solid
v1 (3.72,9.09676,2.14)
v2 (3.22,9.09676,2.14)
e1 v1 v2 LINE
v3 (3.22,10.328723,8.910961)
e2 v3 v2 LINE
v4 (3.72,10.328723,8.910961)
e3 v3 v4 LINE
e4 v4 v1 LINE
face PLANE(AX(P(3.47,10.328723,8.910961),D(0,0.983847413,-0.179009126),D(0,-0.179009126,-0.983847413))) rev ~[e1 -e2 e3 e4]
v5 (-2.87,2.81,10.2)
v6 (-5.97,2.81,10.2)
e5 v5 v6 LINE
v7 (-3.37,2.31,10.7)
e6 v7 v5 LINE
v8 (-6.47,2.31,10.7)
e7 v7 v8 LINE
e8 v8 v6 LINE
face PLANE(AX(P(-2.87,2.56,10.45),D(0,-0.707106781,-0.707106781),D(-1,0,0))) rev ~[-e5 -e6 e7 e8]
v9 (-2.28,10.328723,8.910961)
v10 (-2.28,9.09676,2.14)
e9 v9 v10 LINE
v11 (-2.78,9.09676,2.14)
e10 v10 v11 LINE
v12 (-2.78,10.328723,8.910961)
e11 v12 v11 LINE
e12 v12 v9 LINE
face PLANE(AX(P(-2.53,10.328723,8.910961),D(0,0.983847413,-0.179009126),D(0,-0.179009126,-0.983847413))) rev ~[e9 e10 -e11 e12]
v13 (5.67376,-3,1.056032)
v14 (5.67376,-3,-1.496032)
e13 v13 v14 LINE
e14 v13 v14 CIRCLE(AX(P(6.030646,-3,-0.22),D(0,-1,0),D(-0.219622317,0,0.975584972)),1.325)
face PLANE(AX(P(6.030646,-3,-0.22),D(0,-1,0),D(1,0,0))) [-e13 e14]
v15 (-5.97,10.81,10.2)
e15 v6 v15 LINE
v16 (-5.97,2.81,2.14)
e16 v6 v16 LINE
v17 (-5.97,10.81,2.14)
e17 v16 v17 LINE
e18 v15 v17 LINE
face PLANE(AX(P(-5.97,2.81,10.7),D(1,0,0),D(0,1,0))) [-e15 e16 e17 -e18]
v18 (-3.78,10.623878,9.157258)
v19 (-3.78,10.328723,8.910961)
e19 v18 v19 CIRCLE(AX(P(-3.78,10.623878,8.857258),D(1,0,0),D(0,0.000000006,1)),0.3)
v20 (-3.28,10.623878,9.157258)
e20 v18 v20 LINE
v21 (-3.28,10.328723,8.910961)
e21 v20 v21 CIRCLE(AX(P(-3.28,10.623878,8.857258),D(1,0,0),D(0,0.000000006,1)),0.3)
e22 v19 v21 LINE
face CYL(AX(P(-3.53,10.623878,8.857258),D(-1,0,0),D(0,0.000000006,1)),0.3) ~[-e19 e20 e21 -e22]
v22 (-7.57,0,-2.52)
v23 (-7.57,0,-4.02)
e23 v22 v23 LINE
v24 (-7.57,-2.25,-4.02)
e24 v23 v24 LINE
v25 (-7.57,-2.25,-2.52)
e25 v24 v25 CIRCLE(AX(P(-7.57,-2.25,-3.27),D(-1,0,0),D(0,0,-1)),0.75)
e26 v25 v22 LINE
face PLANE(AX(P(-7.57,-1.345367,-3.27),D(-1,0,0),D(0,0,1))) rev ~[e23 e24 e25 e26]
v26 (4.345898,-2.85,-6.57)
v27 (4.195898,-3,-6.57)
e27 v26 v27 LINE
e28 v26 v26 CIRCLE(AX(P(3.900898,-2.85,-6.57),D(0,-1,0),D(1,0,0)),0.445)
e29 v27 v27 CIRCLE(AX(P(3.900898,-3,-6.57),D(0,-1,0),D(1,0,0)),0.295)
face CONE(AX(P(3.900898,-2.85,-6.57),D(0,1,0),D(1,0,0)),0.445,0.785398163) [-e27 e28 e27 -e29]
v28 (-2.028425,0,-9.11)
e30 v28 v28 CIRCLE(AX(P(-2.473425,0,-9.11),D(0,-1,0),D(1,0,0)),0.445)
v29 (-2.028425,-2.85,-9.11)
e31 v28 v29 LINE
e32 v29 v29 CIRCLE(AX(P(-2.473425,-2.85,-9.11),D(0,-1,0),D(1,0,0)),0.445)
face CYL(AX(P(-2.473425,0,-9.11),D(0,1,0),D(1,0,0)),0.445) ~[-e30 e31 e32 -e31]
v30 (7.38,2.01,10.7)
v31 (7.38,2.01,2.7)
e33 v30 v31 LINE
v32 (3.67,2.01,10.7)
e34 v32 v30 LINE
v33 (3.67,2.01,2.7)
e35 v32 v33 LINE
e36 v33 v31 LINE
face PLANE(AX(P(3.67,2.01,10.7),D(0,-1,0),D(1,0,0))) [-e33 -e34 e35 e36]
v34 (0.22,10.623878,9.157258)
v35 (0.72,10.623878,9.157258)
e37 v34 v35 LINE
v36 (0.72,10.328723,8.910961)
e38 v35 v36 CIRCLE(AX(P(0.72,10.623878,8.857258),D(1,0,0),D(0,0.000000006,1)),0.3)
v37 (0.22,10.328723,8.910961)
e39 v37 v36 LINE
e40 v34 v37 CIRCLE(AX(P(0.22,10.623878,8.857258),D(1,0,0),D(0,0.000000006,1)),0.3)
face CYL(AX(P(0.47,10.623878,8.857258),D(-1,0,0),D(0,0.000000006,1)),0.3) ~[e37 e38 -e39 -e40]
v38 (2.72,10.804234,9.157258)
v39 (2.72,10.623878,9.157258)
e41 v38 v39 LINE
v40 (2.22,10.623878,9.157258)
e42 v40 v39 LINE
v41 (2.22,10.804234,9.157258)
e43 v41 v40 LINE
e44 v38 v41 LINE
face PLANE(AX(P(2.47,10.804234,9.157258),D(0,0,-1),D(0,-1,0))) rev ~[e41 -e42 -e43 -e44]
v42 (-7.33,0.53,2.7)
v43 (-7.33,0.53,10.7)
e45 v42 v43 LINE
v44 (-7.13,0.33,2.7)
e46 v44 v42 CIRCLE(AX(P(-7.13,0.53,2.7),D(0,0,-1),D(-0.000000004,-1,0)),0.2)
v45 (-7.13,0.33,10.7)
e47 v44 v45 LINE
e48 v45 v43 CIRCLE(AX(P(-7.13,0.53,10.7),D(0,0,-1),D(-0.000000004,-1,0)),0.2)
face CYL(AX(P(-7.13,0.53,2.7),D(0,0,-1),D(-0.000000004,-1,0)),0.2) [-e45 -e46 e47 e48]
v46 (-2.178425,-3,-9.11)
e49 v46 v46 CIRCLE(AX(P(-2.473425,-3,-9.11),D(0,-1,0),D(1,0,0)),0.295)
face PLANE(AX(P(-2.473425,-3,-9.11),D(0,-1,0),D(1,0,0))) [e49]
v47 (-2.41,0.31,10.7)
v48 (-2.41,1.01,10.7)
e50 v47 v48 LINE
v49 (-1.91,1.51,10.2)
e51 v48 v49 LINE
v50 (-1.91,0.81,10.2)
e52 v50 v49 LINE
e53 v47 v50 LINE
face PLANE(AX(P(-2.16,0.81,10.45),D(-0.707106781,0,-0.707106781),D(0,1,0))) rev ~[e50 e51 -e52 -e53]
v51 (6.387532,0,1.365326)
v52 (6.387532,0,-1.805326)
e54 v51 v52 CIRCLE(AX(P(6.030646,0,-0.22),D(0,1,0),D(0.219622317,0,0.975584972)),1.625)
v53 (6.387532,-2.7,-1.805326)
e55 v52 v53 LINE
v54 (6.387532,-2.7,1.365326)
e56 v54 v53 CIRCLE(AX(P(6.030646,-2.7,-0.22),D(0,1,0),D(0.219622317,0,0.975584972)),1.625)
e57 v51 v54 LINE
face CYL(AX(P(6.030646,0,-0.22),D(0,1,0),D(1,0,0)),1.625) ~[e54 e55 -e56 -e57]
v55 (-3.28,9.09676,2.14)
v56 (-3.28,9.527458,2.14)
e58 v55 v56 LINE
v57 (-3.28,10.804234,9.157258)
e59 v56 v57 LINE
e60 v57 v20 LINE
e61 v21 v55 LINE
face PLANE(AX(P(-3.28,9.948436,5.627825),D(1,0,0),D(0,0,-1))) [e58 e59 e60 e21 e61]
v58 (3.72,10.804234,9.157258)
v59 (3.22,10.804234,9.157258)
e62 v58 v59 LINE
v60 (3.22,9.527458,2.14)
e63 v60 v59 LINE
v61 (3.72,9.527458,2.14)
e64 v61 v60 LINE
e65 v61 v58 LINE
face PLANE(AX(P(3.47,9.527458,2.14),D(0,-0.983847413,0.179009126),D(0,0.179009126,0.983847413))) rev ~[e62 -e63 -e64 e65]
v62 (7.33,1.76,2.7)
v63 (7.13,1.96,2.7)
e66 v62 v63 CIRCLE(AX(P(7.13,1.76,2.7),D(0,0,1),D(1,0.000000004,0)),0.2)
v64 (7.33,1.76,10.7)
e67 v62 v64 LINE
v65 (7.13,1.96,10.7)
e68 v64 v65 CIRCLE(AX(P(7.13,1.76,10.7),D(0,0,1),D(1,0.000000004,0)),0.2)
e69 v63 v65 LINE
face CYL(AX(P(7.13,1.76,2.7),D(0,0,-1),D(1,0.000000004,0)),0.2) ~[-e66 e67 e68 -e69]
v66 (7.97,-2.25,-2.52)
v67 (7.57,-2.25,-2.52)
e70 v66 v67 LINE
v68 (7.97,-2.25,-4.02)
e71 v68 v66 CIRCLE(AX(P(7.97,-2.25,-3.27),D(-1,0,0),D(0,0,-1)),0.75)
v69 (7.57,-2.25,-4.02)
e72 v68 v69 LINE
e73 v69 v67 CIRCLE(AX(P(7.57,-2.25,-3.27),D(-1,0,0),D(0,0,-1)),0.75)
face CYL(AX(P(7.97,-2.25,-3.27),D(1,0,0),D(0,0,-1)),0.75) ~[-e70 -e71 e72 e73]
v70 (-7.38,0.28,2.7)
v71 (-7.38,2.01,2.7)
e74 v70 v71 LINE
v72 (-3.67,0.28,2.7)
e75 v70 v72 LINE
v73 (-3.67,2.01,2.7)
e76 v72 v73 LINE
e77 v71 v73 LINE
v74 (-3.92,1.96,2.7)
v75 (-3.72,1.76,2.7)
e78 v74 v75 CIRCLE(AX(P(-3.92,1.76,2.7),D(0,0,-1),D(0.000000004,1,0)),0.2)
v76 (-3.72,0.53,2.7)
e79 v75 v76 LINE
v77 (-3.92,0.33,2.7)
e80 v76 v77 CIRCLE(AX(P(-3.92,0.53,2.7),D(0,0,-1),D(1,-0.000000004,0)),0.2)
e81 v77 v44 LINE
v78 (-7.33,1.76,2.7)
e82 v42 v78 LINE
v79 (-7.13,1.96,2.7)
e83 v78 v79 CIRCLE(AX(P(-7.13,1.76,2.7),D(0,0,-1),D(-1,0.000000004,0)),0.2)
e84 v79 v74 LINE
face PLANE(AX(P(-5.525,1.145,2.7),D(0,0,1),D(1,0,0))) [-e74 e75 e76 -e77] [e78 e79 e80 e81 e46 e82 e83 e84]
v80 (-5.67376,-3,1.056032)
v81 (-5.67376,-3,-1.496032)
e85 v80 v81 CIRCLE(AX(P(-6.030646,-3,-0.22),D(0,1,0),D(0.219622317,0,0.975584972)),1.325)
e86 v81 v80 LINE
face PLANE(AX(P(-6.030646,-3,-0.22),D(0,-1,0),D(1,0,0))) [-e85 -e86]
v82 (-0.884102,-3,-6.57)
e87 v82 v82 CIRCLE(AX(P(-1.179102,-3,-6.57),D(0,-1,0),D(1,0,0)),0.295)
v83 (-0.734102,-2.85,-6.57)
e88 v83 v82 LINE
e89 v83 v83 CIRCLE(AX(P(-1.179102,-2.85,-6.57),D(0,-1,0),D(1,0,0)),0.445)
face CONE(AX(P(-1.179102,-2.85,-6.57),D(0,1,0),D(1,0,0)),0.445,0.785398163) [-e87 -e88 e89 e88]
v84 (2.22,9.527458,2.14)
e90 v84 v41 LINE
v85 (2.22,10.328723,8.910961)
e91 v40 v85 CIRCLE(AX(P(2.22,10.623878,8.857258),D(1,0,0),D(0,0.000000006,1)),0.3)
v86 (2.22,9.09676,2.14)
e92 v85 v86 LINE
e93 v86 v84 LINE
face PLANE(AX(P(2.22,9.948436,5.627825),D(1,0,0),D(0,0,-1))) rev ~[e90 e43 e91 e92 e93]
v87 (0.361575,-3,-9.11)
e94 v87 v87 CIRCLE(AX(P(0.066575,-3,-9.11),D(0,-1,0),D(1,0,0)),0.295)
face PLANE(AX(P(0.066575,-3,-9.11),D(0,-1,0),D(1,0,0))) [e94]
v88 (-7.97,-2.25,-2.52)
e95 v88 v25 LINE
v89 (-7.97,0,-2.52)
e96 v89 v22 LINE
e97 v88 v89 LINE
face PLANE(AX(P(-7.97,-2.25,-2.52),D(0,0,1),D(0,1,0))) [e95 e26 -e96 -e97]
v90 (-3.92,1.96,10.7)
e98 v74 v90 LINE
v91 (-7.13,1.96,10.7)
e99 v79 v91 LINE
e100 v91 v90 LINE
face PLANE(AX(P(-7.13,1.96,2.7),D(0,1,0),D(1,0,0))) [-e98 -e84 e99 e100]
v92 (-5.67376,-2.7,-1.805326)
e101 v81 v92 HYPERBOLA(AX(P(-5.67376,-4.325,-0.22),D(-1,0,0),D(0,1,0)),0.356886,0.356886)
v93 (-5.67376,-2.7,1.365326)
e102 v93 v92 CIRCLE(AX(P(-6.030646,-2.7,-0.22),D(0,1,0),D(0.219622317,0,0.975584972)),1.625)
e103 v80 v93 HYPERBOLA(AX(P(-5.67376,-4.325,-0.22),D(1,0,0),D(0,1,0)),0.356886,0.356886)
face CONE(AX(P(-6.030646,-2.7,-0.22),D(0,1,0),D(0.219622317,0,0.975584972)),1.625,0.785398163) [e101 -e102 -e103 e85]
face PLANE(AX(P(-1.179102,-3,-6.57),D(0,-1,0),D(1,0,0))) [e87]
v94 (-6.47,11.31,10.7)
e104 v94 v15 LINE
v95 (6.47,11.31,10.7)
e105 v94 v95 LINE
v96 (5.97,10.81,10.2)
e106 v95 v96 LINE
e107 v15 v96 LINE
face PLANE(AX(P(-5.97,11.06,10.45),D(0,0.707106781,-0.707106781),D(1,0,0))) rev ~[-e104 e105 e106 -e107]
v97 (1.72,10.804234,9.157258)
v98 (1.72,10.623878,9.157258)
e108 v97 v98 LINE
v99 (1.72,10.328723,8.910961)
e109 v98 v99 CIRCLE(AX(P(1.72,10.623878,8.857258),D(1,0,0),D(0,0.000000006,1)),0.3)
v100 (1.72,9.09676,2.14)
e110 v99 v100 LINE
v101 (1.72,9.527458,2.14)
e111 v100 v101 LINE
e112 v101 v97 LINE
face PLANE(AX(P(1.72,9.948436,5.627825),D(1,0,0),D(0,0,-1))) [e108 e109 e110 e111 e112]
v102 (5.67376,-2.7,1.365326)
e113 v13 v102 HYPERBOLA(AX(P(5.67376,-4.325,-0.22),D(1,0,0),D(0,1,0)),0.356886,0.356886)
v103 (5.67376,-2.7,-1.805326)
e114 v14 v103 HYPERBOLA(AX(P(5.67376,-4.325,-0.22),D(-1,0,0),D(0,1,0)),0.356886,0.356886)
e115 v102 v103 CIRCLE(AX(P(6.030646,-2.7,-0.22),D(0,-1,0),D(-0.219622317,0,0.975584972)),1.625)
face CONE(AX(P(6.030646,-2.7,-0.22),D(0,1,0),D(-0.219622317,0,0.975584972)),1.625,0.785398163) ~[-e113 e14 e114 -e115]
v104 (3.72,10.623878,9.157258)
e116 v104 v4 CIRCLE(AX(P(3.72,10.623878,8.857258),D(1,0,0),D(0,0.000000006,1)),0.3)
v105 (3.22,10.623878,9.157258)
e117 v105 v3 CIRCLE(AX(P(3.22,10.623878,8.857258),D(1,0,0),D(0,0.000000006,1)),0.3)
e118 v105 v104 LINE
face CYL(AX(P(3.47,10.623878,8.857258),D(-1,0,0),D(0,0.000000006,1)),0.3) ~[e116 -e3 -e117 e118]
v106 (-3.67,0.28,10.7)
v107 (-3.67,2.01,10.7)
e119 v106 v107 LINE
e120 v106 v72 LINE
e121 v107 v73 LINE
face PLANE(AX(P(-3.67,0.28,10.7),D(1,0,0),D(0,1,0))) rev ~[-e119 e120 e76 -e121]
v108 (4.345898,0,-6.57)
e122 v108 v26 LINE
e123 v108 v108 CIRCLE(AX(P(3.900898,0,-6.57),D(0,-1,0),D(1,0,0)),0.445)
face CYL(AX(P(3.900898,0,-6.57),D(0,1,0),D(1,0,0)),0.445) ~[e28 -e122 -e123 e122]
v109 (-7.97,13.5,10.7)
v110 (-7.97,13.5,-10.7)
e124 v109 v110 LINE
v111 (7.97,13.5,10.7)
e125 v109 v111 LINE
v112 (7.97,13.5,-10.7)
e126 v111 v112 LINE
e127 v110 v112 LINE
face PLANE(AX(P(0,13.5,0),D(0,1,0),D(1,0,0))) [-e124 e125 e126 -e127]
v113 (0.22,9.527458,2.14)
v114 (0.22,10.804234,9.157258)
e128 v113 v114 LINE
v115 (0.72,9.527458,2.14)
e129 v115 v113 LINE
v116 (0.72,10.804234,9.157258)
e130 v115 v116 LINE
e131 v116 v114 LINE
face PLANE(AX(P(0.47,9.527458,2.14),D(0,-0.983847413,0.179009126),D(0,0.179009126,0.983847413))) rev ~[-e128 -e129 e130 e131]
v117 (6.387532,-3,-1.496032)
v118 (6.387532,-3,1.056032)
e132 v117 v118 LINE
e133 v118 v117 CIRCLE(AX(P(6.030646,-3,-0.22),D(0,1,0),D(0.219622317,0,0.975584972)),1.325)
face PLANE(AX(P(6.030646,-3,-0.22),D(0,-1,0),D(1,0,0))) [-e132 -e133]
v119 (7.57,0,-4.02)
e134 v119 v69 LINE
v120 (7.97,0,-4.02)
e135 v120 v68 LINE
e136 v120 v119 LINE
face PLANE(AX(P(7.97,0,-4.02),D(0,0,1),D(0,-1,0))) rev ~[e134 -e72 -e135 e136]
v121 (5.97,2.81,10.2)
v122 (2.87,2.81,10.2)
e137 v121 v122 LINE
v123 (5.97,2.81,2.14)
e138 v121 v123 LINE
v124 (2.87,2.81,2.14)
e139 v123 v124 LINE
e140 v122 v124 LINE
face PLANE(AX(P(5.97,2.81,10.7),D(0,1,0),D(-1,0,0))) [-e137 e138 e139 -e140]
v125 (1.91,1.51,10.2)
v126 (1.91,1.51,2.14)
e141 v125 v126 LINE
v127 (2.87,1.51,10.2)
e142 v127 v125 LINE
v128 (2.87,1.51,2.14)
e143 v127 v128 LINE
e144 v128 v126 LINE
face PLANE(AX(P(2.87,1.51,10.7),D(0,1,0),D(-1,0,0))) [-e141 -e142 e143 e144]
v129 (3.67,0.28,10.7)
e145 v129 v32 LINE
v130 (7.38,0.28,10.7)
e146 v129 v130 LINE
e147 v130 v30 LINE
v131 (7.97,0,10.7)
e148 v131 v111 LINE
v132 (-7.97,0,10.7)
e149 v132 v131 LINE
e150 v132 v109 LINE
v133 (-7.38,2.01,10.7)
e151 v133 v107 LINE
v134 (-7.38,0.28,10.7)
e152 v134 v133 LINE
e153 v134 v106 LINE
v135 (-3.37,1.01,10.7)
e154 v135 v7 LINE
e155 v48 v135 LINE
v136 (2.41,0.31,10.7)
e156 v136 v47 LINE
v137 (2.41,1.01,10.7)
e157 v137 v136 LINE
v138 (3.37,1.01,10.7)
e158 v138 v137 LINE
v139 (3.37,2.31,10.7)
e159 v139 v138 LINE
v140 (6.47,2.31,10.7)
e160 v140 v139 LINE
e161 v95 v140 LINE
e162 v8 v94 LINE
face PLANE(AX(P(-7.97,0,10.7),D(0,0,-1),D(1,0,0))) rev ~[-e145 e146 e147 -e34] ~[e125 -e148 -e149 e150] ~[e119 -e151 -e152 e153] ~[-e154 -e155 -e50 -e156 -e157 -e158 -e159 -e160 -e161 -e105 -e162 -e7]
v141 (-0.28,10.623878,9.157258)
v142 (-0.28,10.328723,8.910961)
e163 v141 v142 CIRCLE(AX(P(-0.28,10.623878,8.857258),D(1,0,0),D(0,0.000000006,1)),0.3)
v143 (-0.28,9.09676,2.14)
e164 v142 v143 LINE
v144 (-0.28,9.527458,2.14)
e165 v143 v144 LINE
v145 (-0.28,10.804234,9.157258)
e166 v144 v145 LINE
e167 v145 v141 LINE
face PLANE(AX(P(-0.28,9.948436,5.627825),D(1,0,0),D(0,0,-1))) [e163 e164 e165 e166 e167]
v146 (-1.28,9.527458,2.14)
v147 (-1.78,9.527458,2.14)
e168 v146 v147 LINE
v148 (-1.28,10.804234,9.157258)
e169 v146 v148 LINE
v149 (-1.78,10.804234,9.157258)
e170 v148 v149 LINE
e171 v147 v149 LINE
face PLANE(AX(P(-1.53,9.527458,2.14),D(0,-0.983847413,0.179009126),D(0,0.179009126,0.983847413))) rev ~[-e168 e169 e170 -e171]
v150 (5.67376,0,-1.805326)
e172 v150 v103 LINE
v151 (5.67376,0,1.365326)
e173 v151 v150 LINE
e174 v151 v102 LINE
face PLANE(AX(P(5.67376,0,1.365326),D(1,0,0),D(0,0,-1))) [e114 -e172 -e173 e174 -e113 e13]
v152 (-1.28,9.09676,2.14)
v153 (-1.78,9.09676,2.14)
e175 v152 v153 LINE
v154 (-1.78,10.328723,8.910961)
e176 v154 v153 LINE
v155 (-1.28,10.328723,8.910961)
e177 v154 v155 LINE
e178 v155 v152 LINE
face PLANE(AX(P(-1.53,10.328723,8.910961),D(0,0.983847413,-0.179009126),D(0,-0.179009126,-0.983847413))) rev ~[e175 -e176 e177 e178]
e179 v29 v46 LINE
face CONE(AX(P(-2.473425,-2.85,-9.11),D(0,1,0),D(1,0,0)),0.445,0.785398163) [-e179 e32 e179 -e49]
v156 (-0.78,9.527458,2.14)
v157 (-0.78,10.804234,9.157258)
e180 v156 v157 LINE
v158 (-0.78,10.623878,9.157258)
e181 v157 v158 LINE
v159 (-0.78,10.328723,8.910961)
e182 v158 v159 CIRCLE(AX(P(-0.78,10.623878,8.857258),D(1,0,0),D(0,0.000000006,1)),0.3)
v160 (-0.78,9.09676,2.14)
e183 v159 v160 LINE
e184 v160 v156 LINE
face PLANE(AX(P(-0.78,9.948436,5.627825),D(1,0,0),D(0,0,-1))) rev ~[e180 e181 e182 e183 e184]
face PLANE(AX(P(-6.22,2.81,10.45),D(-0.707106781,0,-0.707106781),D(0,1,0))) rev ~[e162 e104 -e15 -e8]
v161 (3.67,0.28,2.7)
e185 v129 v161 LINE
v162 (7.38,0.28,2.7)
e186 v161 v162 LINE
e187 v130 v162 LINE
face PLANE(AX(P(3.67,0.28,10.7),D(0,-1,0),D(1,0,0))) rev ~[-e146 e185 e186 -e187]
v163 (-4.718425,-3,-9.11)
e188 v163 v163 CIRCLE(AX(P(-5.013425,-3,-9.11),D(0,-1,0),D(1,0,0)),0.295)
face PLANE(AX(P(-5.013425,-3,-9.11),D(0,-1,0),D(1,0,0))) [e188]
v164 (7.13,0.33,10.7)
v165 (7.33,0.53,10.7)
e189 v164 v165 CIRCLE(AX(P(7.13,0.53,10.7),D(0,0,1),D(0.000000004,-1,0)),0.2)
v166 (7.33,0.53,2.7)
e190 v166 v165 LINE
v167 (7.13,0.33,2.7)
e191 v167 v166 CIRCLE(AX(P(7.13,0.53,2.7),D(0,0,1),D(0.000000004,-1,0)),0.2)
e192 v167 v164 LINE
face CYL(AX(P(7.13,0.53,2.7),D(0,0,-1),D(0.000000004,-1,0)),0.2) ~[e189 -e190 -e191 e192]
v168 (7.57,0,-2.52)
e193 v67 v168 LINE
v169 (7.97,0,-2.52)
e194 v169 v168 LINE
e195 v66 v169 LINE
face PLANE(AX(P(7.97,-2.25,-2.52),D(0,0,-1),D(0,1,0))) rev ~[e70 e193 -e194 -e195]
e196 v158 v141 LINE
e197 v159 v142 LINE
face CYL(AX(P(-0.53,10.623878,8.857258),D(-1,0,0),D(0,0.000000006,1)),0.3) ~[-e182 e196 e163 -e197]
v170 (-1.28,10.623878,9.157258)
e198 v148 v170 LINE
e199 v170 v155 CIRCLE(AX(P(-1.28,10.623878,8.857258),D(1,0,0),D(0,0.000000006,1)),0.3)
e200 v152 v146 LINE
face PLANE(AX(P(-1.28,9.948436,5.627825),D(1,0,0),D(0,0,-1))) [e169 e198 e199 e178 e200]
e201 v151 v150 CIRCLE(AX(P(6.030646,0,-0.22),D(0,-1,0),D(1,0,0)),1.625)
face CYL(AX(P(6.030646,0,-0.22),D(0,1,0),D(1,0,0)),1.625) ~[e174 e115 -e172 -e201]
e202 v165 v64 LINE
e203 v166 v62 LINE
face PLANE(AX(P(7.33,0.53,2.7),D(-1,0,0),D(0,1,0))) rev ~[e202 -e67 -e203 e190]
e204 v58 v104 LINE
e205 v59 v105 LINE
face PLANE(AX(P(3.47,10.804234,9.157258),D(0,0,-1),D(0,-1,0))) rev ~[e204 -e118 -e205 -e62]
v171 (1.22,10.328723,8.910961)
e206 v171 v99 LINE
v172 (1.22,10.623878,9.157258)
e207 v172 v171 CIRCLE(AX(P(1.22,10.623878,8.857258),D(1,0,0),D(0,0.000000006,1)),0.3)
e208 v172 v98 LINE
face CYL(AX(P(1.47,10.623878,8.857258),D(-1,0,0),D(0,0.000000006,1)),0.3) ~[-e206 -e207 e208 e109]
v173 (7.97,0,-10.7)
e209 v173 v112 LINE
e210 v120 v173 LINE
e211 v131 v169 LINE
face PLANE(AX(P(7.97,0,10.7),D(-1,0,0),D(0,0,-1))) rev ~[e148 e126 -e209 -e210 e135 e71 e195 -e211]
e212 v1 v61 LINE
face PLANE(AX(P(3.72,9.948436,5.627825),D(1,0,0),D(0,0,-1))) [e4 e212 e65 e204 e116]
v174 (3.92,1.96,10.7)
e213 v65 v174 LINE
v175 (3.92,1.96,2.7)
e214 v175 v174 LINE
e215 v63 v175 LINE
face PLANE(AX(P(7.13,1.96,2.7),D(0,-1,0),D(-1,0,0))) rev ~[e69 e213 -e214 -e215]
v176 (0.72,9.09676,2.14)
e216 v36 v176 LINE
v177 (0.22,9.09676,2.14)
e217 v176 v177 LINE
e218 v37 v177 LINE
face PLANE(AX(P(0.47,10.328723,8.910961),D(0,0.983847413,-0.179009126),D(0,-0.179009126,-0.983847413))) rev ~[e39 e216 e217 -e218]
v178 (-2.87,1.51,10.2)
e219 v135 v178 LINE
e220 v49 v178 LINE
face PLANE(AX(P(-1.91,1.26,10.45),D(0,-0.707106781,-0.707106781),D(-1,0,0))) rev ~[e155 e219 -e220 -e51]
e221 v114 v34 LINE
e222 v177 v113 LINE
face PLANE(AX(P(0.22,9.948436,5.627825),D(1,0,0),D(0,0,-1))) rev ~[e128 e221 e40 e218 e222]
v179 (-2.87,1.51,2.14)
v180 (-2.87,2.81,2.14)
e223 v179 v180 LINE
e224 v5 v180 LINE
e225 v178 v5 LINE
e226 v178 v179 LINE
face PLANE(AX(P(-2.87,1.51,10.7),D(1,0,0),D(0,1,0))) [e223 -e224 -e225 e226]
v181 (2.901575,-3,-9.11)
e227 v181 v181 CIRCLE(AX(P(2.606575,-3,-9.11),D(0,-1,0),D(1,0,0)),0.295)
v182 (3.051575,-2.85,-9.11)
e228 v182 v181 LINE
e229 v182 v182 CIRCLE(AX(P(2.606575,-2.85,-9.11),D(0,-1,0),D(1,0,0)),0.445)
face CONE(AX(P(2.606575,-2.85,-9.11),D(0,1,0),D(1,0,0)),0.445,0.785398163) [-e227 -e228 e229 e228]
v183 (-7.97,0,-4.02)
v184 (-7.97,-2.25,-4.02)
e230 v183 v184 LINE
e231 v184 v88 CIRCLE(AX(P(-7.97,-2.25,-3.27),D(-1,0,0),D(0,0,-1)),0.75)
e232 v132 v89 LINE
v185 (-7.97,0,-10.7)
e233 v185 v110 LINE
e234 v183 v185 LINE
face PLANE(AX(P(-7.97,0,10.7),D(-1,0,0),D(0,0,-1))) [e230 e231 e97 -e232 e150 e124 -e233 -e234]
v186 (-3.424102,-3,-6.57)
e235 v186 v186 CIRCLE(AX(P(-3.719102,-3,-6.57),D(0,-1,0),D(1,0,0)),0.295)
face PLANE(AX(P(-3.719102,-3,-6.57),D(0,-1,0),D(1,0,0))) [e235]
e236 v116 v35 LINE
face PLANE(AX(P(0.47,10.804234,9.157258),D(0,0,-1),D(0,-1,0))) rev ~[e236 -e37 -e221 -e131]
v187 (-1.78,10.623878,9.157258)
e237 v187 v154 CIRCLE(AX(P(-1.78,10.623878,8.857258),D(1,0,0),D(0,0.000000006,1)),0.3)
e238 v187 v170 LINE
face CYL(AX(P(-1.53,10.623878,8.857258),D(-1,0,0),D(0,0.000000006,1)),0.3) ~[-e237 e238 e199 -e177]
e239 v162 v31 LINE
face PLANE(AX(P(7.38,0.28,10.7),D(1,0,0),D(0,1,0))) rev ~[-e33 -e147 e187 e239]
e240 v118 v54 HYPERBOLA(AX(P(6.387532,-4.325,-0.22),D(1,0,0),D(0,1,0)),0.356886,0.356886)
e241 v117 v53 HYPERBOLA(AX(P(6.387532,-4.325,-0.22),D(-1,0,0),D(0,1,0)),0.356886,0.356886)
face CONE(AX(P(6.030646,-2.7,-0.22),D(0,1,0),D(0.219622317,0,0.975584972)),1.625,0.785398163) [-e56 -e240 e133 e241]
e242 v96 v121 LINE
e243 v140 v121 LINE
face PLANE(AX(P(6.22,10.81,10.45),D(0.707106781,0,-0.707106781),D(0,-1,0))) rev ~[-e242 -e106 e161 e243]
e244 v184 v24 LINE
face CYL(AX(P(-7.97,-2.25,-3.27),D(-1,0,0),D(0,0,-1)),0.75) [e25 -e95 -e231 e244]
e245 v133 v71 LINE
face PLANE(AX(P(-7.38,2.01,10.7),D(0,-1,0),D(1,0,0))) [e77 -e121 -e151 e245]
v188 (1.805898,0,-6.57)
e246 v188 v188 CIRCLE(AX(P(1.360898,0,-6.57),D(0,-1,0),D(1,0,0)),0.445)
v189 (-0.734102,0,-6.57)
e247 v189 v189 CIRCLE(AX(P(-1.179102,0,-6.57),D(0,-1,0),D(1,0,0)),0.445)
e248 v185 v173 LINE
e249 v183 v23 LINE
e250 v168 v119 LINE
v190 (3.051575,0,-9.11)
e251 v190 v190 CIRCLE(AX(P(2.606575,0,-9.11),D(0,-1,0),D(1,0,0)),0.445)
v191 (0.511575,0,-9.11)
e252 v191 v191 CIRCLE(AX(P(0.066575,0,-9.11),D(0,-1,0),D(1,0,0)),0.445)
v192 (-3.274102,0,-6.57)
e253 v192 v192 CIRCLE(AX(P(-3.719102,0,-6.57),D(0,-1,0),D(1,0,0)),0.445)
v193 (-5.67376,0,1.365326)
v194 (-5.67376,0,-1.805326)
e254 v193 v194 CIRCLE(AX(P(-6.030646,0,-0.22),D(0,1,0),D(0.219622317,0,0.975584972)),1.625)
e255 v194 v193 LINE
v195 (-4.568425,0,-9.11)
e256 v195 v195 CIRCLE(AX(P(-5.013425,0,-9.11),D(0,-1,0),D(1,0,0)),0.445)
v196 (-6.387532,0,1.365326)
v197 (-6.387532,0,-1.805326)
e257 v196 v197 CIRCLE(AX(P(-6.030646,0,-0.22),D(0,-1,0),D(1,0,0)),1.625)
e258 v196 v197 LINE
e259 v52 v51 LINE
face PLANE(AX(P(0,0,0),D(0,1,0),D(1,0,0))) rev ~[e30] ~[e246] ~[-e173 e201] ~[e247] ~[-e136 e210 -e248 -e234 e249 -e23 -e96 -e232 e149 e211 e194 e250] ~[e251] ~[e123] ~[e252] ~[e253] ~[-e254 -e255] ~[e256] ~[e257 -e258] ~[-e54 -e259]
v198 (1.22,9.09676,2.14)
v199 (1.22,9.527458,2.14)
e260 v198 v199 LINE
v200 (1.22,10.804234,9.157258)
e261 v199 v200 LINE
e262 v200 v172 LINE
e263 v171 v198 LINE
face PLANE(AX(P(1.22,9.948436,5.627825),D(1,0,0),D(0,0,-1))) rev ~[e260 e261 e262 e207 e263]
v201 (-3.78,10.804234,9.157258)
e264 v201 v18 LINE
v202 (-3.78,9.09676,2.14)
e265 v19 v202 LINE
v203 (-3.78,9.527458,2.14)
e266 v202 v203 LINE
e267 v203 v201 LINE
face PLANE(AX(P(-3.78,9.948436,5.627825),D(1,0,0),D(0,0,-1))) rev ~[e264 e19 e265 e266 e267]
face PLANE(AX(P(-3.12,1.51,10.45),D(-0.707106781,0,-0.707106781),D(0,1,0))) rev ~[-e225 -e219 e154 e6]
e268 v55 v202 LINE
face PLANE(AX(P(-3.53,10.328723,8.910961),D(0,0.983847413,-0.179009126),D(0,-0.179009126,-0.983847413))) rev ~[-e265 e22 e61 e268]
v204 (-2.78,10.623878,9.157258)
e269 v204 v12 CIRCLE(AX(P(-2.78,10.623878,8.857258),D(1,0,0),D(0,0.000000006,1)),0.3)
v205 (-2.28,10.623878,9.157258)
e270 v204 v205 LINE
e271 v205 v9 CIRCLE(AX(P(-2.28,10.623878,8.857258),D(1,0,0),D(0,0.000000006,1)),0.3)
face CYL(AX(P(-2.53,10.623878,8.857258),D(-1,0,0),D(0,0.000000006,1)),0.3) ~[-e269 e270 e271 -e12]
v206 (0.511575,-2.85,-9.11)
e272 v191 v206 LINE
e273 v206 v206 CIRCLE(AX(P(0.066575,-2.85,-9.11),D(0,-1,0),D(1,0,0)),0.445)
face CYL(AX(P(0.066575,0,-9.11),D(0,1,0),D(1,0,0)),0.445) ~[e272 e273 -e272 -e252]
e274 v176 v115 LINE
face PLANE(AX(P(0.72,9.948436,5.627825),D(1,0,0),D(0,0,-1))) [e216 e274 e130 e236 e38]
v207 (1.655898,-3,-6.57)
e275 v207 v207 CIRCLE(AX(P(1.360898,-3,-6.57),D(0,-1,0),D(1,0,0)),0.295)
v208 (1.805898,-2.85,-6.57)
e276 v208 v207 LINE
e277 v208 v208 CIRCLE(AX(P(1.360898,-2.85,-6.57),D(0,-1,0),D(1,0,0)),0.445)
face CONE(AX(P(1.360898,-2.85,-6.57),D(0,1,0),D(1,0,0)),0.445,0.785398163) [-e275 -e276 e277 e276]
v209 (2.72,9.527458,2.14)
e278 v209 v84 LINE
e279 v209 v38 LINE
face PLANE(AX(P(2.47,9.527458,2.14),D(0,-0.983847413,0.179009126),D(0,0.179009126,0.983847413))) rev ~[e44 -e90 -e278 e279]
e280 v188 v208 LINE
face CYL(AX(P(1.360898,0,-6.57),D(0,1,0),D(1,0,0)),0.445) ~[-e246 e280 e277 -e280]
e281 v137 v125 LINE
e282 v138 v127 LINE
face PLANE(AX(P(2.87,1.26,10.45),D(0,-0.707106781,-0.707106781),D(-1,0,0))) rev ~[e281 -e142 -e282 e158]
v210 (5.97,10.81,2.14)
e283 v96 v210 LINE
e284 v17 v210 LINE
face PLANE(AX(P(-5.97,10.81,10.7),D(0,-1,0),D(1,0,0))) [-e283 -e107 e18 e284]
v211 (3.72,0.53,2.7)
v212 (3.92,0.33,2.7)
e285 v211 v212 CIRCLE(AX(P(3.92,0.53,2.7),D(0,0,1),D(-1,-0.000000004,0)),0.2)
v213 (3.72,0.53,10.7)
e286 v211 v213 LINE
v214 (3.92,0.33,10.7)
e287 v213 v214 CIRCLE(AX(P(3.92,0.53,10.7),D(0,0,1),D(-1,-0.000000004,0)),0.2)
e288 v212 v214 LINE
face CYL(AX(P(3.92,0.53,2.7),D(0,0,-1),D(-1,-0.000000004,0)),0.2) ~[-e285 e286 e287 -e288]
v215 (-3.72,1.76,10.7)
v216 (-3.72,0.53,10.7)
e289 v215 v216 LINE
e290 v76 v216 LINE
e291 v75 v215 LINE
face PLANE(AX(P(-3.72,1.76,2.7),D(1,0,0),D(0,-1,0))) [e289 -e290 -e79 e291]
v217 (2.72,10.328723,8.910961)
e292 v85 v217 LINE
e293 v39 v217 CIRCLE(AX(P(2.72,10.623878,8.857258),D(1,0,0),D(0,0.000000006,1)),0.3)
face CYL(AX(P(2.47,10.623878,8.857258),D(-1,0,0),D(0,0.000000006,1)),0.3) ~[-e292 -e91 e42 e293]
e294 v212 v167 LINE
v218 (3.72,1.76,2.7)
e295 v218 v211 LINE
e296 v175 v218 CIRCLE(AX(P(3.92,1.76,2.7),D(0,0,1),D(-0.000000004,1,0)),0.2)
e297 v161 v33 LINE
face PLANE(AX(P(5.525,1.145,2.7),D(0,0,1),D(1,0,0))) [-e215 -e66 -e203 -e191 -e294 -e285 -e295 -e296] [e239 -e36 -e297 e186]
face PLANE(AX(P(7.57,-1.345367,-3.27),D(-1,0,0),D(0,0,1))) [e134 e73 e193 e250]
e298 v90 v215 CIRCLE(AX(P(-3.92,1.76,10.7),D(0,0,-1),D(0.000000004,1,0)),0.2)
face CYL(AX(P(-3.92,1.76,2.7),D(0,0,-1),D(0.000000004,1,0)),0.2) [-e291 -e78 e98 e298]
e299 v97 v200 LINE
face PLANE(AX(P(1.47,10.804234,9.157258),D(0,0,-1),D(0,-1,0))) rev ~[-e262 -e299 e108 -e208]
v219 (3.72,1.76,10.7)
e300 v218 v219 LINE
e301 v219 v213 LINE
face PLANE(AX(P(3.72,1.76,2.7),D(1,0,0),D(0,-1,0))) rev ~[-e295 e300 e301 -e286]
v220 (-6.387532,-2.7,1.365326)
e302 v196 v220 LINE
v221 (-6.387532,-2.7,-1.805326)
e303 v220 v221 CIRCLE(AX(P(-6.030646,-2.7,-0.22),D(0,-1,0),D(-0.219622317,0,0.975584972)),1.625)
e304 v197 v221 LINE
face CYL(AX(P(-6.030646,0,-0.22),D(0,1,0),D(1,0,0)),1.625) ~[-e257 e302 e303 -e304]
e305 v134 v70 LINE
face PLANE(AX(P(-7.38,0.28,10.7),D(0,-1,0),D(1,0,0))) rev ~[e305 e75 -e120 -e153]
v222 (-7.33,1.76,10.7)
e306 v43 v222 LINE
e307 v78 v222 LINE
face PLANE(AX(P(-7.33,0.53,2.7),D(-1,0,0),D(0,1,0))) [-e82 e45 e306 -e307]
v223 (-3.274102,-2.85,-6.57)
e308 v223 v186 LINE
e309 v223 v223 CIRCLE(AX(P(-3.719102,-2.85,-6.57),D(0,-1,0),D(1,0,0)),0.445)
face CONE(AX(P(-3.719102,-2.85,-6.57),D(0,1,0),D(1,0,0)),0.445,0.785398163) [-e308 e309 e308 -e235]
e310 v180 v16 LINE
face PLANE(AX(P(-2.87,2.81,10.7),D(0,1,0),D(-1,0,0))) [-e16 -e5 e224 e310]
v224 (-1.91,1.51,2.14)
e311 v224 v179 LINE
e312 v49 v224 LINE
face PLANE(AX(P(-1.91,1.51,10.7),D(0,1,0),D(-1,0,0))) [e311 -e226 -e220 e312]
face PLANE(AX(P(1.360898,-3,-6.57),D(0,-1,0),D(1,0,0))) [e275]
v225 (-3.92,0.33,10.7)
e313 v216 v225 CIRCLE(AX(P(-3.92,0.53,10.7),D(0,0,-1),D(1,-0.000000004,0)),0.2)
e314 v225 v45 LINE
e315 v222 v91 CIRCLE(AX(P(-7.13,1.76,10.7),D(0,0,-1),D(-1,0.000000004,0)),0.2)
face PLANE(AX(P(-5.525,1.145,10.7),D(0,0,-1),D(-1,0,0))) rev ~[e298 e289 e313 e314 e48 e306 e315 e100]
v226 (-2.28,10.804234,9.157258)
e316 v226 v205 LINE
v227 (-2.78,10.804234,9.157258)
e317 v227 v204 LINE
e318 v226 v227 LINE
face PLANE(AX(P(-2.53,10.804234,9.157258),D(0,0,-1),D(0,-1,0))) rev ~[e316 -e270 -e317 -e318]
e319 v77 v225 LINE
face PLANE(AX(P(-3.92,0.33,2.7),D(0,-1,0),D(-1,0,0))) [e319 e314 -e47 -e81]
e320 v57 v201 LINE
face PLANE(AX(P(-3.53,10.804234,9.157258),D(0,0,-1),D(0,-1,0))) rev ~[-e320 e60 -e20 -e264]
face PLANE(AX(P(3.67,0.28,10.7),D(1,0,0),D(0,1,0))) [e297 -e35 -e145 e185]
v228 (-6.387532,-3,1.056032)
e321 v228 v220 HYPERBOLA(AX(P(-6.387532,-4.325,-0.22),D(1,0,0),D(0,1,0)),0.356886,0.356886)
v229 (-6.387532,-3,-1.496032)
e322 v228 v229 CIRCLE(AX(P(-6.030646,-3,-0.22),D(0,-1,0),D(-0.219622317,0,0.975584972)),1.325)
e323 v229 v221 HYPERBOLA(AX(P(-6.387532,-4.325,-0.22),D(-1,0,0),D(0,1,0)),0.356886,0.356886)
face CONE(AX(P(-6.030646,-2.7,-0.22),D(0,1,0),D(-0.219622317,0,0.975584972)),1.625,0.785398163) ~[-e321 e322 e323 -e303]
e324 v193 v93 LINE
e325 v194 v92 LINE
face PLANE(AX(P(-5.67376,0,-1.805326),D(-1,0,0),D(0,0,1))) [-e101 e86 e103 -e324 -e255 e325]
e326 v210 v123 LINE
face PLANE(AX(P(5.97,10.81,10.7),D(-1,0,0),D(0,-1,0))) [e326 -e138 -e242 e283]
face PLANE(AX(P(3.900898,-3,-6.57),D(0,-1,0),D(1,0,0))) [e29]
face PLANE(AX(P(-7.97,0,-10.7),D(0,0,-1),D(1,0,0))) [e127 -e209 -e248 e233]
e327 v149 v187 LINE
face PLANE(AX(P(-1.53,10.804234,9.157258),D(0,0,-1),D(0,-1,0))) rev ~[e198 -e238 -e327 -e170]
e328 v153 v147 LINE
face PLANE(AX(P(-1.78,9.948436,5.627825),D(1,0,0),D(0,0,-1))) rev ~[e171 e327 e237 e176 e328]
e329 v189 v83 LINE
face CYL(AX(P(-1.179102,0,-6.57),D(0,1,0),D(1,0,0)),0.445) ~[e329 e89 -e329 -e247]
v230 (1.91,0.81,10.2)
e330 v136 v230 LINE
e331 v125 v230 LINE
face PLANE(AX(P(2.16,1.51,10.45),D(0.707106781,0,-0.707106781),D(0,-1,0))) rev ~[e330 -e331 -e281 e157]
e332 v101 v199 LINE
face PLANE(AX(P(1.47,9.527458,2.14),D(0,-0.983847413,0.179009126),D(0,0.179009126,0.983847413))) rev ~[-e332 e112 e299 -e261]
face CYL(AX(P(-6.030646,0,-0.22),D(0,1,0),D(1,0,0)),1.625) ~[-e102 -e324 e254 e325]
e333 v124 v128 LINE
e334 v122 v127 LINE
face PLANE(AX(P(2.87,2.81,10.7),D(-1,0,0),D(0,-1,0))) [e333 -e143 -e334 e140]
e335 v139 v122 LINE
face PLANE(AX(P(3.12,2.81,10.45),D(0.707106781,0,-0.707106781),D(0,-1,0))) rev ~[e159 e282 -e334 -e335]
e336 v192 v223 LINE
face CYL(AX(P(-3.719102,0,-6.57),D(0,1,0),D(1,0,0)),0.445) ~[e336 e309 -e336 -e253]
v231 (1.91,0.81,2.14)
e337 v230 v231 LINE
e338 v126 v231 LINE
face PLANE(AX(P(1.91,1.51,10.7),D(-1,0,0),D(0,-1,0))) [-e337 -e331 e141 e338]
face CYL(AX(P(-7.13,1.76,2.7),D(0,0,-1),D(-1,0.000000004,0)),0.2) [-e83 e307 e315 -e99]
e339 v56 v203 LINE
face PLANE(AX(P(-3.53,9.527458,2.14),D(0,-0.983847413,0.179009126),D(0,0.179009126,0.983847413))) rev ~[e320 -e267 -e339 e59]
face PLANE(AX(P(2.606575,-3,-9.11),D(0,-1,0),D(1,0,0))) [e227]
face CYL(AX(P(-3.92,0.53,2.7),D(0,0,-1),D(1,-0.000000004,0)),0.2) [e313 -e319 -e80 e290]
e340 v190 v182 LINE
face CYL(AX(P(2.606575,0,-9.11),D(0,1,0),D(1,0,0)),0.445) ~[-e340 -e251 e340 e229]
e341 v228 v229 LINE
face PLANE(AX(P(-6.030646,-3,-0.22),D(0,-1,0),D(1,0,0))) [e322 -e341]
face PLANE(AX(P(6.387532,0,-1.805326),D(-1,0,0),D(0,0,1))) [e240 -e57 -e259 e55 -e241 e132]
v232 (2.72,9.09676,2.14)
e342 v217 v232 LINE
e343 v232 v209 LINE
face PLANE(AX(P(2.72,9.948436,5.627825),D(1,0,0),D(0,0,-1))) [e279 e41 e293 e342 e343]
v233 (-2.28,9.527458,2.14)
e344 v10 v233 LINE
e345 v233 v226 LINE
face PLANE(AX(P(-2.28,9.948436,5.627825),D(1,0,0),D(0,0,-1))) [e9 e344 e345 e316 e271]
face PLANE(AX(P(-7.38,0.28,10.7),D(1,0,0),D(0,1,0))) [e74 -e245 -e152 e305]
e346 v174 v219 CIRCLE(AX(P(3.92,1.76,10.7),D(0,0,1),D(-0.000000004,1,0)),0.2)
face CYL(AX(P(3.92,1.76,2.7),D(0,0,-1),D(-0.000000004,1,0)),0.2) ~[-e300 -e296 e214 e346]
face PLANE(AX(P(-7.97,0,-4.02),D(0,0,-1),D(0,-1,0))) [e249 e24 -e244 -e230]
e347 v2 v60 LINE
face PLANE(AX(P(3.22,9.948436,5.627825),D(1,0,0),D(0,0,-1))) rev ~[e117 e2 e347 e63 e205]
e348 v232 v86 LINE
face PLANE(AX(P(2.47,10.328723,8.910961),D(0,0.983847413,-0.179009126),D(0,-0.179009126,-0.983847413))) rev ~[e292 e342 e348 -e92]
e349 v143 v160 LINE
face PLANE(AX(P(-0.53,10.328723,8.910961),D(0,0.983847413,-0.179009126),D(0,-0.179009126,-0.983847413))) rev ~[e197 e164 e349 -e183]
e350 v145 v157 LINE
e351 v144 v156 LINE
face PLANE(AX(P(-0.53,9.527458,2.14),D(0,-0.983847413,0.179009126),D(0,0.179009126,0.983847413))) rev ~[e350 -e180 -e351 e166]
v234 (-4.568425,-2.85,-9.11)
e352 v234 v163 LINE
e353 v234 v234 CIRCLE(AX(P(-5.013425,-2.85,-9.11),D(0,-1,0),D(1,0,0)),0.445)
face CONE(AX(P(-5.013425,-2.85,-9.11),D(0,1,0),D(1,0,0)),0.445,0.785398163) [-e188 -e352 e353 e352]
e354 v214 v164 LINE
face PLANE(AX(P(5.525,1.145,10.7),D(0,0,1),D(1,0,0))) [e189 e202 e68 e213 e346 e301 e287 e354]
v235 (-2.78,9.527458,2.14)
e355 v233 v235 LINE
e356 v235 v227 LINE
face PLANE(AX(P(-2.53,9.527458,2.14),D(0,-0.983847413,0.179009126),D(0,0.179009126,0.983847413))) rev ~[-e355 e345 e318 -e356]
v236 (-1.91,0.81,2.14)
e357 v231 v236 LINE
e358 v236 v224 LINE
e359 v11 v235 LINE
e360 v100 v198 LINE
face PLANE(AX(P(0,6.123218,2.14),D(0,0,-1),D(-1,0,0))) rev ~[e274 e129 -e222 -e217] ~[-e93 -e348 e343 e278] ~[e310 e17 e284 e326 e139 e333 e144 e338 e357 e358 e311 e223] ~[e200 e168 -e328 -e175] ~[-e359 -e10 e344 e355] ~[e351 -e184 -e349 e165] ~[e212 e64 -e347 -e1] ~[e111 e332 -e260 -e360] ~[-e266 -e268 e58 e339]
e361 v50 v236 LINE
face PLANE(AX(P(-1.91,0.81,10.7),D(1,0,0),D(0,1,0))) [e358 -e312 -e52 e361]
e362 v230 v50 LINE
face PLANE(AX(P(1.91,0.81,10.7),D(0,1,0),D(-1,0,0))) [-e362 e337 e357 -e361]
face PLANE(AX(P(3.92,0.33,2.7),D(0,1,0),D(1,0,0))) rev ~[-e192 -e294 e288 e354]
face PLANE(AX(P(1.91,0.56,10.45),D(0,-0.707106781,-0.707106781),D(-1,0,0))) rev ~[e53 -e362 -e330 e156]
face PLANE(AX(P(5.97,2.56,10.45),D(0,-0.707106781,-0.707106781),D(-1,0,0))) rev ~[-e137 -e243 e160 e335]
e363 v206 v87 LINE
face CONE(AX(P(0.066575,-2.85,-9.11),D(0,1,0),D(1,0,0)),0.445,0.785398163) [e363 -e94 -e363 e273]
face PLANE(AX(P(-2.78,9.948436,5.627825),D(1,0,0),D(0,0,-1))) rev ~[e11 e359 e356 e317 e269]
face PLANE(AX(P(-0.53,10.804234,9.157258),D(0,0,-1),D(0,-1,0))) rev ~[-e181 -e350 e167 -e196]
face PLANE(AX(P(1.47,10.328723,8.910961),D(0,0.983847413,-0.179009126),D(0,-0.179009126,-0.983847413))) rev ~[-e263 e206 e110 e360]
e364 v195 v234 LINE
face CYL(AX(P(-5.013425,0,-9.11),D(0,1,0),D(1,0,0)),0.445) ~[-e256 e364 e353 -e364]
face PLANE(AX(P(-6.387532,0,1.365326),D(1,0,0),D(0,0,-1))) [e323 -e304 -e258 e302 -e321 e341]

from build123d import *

# Parameters (mm, degrees)
SKETCH2_W            = 15.94
SKETCH2_H            = 21.4
BOSS_EXTRUDE1_DEPTH  = 13.5
CUT_EXTRUDE1_DEPTH   = 8.56
CHAMFER1_SIZE        = 0.5
SKETCH4_W            = 3.71
SKETCH4_H            = 1.73
CUT_EXTRUDE2_DEPTH   = 8
BOSS_EXTRUDE2_DEPTH  = 8
BOSS_EXTRUDE5_DEPTH  = 0.25
LPATTERN1_COUNT      = 8
LPATTERN1_PITCH      = 1
BOSS_EXTRUDE7_START  = 7.97
BOSS_EXTRUDE7_DEPTH  = 0.4
BOSS_EXTRUDE8_START  = -7.57
BOSS_EXTRUDE8_DEPTH  = 0.4
SKETCH9_R            = 1.625
BOSS_EXTRUDE9_DEPTH  = 3
CUT_EXTRUDE3_DEPTH   = 3
CHAMFER2_SIZE        = 0.3
SKETCH11_R           = 0.445
BOSS_EXTRUDE10_DEPTH = 3
CHAMFER3_SIZE        = 0.15


with BuildPart() as part:
    # Sketch2 → Boss-Extrude1 (new body)
    with BuildSketch(Plane(origin=(0, 0, 0), x_dir=(1, 0, 0), z_dir=(0, 1, 0))):
        Rectangle(SKETCH2_W, SKETCH2_H)
    extrude(amount=BOSS_EXTRUDE1_DEPTH)

    # Sketch3 → Cut-Extrude1 (cut)
    with BuildSketch(Plane.XY.offset(10.7)):
        Polygon((-5.97, 10.81), (5.97, 10.81), (5.97, 2.81), (2.87, 2.81), (2.87, 1.51), (1.91, 1.51), (1.91, 0.81), (-1.91, 0.81), (-1.91, 1.51), (-2.87, 1.51), (-2.87, 2.81), (-5.97, 2.81), align=None)
    extrude(amount=-CUT_EXTRUDE1_DEPTH, mode=Mode.SUBTRACT)

    # Chamfer1
    chamfer1_edges = [part.edges().sort_by_distance(p)[0] for p in [
        (-4.42, 2.81, 10.7),
        (-2.87, 2.16, 10.7),
        (-2.39, 1.51, 10.7),
        (-1.91, 1.16, 10.7),
        (0, 0.81, 10.7),
        (1.91, 1.16, 10.7),
        (2.39, 1.51, 10.7),
        (2.87, 2.16, 10.7),
        (4.42, 2.81, 10.7),
        (5.97, 6.81, 10.7),
        (-5.97, 6.81, 10.7),
        (0, 10.81, 10.7),
    ]]
    chamfer(chamfer1_edges, length=CHAMFER1_SIZE)

    # Sketch4 → Cut-Extrude2 (cut)
    with BuildSketch(Plane.XY.offset(10.7)):
        with Locations((-5.525, 1.145)):
            Rectangle(SKETCH4_W, SKETCH4_H)
        with Locations((5.525, 1.145)):
            Rectangle(SKETCH4_W, SKETCH4_H)
    extrude(amount=-CUT_EXTRUDE2_DEPTH, mode=Mode.SUBTRACT)

    # Sketch5 → Boss-Extrude2 (add)
    with BuildSketch(Plane.XY.offset(2.7)):
        with BuildLine():
            Line((-7.13, 1.96), (-3.92, 1.96))
            ThreePointArc((-3.92, 1.96), (-3.778578644, 1.901421356), (-3.72, 1.76))
            Line((-3.72, 1.76), (-3.72, 0.53))
            ThreePointArc((-3.72, 0.53), (-3.778578644, 0.388578644), (-3.92, 0.33))
            Line((-3.92, 0.33), (-7.13, 0.33))
            ThreePointArc((-7.13, 0.33), (-7.271421356, 0.388578644), (-7.33, 0.53))
            Line((-7.33, 0.53), (-7.33, 1.76))
            ThreePointArc((-7.33, 1.76), (-7.271421356, 1.901421356), (-7.13, 1.96))
        make_face()
        with BuildLine():
            Line((3.72, 1.76), (3.72, 0.53))
            ThreePointArc((3.72, 0.53), (3.778578644, 0.388578644), (3.92, 0.33))
            Line((3.92, 0.33), (7.13, 0.33))
            ThreePointArc((7.13, 0.33), (7.271421356, 0.388578644), (7.33, 0.53))
            Line((7.33, 0.53), (7.33, 1.76))
            ThreePointArc((7.33, 1.76), (7.271421356, 1.901421356), (7.13, 1.96))
            Line((7.13, 1.96), (3.92, 1.96))
            ThreePointArc((3.92, 1.96), (3.778578644, 1.901421356), (3.72, 1.76))
        make_face()
    extrude(amount=BOSS_EXTRUDE2_DEPTH)

    # Sketch6 → Boss-Extrude5 (add, symmetric)
    with BuildSketch(Plane.ZY.offset(-3.47)):
        with BuildLine():
            Line((9.157258215, 10.804234071), (9.157258215, 10.623877591))
            ThreePointArc((9.157258215, 10.623877591), (9.087595817, 10.431667837), (8.910960953, 10.328723367))
            Line((8.910960953, 10.328723367), (2.14, 9.096760174))
            Line((2.14, 9.096760174), (2.14, 9.52745757))
            Line((2.14, 9.52745757), (9.157258215, 10.804234071))
        make_face()
    boss_extrude5 = extrude(amount=BOSS_EXTRUDE5_DEPTH, both=True)

    # LPattern1: Boss-Extrude5 ×8
    with Locations(*[(-i * LPATTERN1_PITCH, 0, 0) for i in range(1, LPATTERN1_COUNT)]):
        add(boss_extrude5)

    # Sketch8 → Boss-Extrude7 (add)
    with BuildSketch(Plane(origin=(0, 0, 0), x_dir=(0, 0, -1), z_dir=(1, 0, 0)).offset(BOSS_EXTRUDE7_START)):
        with BuildLine():
            Line((4.02, 0), (4.02, -2.25))
            ThreePointArc((4.02, -2.25), (3.27, -3), (2.52, -2.25))
            Line((2.52, -2.25), (2.52, 0))
            Line((2.52, 0), (4.02, 0))
        make_face()
    extrude(amount=-BOSS_EXTRUDE7_DEPTH)

    # Sketch8_2 → Boss-Extrude8 (add)
    with BuildSketch(Plane(origin=(0, 0, 0), x_dir=(0, 0, -1), z_dir=(1, 0, 0)).offset(BOSS_EXTRUDE8_START)):
        with BuildLine():
            Line((4.02, 0), (4.02, -2.25))
            ThreePointArc((4.02, -2.25), (3.27, -3), (2.52, -2.25))
            Line((2.52, -2.25), (2.52, 0))
            Line((2.52, 0), (4.02, 0))
        make_face()
    extrude(amount=-BOSS_EXTRUDE8_DEPTH)

    # Sketch9 → Boss-Extrude9 (add)
    with BuildSketch(Plane.XZ):
        with Locations((6.030646147, -0.22)):
            Circle(SKETCH9_R)
        with Locations((-6.030646147, -0.22)):
            Circle(SKETCH9_R)
    extrude(amount=BOSS_EXTRUDE9_DEPTH)

    # Sketch10 → Cut-Extrude3 (cut)
    with BuildSketch(Plane.XZ):
        with BuildLine():
            ThreePointArc((-5.673759882, 1.36532558), (-6.030646147, 1.405), (-6.387532412, 1.36532558))
            Line((-6.387532412, 1.36532558), (-6.387532412, -1.80532558))
            ThreePointArc((-6.387532412, -1.80532558), (-6.030646147, -1.845), (-5.673759882, -1.80532558))
            Line((-5.673759882, -1.80532558), (-5.673759882, 1.36532558))
        make_face()
        with BuildLine():
            ThreePointArc((6.387532412, 1.36532558), (6.030646147, 1.405), (5.673759882, 1.36532558))
            Line((5.673759882, 1.36532558), (5.673759882, -1.80532558))
            ThreePointArc((5.673759882, -1.80532558), (6.030646147, -1.845), (6.387532412, -1.80532558))
            Line((6.387532412, -1.80532558), (6.387532412, 1.36532558))
        make_face()
    extrude(amount=CUT_EXTRUDE3_DEPTH, mode=Mode.SUBTRACT)

    # Chamfer2
    chamfer2_edges = [part.edges().sort_by_distance(p)[0] for p in [
        (7.655646147, -3, -0.22),
        (4.405646147, -3, -0.22),
        (-4.405646147, -3, -0.22),
        (-7.655646147, -3, -0.22),
    ]]
    chamfer(chamfer2_edges, length=CHAMFER2_SIZE)

    # Sketch11 → Boss-Extrude10 (add)
    with BuildSketch(Plane.XZ):
        with Locations((-5.013424508, -9.11)):
            Circle(SKETCH11_R)
        with Locations((-2.473424508, -9.11)):
            Circle(SKETCH11_R)
        with Locations((0.066575492, -9.11)):
            Circle(SKETCH11_R)
        with Locations((2.606575492, -9.11)):
            Circle(SKETCH11_R)
        with Locations((-3.719101646, -6.57)):
            Circle(SKETCH11_R)
        with Locations((-1.179101646, -6.57)):
            Circle(SKETCH11_R)
        with Locations((1.360898354, -6.57)):
            Circle(SKETCH11_R)
        with Locations((3.900898354, -6.57)):
            Circle(SKETCH11_R)
    extrude(amount=BOSS_EXTRUDE10_DEPTH)

    # Chamfer3
    chamfer3_edges = [part.edges().sort_by_distance(p)[0] for p in [
        (3.455898354, -3, -6.57),
        (2.161575492, -3, -9.11),
        (0.915898354, -3, -6.57),
        (-0.378424508, -3, -9.11),
        (-1.624101646, -3, -6.57),
        (-2.918424508, -3, -9.11),
        (-4.164101646, -3, -6.57),
        (-5.458424508, -3, -9.11),
    ]]
    chamfer(chamfer3_edges, length=CHAMFER3_SIZE)


solid = part.part
